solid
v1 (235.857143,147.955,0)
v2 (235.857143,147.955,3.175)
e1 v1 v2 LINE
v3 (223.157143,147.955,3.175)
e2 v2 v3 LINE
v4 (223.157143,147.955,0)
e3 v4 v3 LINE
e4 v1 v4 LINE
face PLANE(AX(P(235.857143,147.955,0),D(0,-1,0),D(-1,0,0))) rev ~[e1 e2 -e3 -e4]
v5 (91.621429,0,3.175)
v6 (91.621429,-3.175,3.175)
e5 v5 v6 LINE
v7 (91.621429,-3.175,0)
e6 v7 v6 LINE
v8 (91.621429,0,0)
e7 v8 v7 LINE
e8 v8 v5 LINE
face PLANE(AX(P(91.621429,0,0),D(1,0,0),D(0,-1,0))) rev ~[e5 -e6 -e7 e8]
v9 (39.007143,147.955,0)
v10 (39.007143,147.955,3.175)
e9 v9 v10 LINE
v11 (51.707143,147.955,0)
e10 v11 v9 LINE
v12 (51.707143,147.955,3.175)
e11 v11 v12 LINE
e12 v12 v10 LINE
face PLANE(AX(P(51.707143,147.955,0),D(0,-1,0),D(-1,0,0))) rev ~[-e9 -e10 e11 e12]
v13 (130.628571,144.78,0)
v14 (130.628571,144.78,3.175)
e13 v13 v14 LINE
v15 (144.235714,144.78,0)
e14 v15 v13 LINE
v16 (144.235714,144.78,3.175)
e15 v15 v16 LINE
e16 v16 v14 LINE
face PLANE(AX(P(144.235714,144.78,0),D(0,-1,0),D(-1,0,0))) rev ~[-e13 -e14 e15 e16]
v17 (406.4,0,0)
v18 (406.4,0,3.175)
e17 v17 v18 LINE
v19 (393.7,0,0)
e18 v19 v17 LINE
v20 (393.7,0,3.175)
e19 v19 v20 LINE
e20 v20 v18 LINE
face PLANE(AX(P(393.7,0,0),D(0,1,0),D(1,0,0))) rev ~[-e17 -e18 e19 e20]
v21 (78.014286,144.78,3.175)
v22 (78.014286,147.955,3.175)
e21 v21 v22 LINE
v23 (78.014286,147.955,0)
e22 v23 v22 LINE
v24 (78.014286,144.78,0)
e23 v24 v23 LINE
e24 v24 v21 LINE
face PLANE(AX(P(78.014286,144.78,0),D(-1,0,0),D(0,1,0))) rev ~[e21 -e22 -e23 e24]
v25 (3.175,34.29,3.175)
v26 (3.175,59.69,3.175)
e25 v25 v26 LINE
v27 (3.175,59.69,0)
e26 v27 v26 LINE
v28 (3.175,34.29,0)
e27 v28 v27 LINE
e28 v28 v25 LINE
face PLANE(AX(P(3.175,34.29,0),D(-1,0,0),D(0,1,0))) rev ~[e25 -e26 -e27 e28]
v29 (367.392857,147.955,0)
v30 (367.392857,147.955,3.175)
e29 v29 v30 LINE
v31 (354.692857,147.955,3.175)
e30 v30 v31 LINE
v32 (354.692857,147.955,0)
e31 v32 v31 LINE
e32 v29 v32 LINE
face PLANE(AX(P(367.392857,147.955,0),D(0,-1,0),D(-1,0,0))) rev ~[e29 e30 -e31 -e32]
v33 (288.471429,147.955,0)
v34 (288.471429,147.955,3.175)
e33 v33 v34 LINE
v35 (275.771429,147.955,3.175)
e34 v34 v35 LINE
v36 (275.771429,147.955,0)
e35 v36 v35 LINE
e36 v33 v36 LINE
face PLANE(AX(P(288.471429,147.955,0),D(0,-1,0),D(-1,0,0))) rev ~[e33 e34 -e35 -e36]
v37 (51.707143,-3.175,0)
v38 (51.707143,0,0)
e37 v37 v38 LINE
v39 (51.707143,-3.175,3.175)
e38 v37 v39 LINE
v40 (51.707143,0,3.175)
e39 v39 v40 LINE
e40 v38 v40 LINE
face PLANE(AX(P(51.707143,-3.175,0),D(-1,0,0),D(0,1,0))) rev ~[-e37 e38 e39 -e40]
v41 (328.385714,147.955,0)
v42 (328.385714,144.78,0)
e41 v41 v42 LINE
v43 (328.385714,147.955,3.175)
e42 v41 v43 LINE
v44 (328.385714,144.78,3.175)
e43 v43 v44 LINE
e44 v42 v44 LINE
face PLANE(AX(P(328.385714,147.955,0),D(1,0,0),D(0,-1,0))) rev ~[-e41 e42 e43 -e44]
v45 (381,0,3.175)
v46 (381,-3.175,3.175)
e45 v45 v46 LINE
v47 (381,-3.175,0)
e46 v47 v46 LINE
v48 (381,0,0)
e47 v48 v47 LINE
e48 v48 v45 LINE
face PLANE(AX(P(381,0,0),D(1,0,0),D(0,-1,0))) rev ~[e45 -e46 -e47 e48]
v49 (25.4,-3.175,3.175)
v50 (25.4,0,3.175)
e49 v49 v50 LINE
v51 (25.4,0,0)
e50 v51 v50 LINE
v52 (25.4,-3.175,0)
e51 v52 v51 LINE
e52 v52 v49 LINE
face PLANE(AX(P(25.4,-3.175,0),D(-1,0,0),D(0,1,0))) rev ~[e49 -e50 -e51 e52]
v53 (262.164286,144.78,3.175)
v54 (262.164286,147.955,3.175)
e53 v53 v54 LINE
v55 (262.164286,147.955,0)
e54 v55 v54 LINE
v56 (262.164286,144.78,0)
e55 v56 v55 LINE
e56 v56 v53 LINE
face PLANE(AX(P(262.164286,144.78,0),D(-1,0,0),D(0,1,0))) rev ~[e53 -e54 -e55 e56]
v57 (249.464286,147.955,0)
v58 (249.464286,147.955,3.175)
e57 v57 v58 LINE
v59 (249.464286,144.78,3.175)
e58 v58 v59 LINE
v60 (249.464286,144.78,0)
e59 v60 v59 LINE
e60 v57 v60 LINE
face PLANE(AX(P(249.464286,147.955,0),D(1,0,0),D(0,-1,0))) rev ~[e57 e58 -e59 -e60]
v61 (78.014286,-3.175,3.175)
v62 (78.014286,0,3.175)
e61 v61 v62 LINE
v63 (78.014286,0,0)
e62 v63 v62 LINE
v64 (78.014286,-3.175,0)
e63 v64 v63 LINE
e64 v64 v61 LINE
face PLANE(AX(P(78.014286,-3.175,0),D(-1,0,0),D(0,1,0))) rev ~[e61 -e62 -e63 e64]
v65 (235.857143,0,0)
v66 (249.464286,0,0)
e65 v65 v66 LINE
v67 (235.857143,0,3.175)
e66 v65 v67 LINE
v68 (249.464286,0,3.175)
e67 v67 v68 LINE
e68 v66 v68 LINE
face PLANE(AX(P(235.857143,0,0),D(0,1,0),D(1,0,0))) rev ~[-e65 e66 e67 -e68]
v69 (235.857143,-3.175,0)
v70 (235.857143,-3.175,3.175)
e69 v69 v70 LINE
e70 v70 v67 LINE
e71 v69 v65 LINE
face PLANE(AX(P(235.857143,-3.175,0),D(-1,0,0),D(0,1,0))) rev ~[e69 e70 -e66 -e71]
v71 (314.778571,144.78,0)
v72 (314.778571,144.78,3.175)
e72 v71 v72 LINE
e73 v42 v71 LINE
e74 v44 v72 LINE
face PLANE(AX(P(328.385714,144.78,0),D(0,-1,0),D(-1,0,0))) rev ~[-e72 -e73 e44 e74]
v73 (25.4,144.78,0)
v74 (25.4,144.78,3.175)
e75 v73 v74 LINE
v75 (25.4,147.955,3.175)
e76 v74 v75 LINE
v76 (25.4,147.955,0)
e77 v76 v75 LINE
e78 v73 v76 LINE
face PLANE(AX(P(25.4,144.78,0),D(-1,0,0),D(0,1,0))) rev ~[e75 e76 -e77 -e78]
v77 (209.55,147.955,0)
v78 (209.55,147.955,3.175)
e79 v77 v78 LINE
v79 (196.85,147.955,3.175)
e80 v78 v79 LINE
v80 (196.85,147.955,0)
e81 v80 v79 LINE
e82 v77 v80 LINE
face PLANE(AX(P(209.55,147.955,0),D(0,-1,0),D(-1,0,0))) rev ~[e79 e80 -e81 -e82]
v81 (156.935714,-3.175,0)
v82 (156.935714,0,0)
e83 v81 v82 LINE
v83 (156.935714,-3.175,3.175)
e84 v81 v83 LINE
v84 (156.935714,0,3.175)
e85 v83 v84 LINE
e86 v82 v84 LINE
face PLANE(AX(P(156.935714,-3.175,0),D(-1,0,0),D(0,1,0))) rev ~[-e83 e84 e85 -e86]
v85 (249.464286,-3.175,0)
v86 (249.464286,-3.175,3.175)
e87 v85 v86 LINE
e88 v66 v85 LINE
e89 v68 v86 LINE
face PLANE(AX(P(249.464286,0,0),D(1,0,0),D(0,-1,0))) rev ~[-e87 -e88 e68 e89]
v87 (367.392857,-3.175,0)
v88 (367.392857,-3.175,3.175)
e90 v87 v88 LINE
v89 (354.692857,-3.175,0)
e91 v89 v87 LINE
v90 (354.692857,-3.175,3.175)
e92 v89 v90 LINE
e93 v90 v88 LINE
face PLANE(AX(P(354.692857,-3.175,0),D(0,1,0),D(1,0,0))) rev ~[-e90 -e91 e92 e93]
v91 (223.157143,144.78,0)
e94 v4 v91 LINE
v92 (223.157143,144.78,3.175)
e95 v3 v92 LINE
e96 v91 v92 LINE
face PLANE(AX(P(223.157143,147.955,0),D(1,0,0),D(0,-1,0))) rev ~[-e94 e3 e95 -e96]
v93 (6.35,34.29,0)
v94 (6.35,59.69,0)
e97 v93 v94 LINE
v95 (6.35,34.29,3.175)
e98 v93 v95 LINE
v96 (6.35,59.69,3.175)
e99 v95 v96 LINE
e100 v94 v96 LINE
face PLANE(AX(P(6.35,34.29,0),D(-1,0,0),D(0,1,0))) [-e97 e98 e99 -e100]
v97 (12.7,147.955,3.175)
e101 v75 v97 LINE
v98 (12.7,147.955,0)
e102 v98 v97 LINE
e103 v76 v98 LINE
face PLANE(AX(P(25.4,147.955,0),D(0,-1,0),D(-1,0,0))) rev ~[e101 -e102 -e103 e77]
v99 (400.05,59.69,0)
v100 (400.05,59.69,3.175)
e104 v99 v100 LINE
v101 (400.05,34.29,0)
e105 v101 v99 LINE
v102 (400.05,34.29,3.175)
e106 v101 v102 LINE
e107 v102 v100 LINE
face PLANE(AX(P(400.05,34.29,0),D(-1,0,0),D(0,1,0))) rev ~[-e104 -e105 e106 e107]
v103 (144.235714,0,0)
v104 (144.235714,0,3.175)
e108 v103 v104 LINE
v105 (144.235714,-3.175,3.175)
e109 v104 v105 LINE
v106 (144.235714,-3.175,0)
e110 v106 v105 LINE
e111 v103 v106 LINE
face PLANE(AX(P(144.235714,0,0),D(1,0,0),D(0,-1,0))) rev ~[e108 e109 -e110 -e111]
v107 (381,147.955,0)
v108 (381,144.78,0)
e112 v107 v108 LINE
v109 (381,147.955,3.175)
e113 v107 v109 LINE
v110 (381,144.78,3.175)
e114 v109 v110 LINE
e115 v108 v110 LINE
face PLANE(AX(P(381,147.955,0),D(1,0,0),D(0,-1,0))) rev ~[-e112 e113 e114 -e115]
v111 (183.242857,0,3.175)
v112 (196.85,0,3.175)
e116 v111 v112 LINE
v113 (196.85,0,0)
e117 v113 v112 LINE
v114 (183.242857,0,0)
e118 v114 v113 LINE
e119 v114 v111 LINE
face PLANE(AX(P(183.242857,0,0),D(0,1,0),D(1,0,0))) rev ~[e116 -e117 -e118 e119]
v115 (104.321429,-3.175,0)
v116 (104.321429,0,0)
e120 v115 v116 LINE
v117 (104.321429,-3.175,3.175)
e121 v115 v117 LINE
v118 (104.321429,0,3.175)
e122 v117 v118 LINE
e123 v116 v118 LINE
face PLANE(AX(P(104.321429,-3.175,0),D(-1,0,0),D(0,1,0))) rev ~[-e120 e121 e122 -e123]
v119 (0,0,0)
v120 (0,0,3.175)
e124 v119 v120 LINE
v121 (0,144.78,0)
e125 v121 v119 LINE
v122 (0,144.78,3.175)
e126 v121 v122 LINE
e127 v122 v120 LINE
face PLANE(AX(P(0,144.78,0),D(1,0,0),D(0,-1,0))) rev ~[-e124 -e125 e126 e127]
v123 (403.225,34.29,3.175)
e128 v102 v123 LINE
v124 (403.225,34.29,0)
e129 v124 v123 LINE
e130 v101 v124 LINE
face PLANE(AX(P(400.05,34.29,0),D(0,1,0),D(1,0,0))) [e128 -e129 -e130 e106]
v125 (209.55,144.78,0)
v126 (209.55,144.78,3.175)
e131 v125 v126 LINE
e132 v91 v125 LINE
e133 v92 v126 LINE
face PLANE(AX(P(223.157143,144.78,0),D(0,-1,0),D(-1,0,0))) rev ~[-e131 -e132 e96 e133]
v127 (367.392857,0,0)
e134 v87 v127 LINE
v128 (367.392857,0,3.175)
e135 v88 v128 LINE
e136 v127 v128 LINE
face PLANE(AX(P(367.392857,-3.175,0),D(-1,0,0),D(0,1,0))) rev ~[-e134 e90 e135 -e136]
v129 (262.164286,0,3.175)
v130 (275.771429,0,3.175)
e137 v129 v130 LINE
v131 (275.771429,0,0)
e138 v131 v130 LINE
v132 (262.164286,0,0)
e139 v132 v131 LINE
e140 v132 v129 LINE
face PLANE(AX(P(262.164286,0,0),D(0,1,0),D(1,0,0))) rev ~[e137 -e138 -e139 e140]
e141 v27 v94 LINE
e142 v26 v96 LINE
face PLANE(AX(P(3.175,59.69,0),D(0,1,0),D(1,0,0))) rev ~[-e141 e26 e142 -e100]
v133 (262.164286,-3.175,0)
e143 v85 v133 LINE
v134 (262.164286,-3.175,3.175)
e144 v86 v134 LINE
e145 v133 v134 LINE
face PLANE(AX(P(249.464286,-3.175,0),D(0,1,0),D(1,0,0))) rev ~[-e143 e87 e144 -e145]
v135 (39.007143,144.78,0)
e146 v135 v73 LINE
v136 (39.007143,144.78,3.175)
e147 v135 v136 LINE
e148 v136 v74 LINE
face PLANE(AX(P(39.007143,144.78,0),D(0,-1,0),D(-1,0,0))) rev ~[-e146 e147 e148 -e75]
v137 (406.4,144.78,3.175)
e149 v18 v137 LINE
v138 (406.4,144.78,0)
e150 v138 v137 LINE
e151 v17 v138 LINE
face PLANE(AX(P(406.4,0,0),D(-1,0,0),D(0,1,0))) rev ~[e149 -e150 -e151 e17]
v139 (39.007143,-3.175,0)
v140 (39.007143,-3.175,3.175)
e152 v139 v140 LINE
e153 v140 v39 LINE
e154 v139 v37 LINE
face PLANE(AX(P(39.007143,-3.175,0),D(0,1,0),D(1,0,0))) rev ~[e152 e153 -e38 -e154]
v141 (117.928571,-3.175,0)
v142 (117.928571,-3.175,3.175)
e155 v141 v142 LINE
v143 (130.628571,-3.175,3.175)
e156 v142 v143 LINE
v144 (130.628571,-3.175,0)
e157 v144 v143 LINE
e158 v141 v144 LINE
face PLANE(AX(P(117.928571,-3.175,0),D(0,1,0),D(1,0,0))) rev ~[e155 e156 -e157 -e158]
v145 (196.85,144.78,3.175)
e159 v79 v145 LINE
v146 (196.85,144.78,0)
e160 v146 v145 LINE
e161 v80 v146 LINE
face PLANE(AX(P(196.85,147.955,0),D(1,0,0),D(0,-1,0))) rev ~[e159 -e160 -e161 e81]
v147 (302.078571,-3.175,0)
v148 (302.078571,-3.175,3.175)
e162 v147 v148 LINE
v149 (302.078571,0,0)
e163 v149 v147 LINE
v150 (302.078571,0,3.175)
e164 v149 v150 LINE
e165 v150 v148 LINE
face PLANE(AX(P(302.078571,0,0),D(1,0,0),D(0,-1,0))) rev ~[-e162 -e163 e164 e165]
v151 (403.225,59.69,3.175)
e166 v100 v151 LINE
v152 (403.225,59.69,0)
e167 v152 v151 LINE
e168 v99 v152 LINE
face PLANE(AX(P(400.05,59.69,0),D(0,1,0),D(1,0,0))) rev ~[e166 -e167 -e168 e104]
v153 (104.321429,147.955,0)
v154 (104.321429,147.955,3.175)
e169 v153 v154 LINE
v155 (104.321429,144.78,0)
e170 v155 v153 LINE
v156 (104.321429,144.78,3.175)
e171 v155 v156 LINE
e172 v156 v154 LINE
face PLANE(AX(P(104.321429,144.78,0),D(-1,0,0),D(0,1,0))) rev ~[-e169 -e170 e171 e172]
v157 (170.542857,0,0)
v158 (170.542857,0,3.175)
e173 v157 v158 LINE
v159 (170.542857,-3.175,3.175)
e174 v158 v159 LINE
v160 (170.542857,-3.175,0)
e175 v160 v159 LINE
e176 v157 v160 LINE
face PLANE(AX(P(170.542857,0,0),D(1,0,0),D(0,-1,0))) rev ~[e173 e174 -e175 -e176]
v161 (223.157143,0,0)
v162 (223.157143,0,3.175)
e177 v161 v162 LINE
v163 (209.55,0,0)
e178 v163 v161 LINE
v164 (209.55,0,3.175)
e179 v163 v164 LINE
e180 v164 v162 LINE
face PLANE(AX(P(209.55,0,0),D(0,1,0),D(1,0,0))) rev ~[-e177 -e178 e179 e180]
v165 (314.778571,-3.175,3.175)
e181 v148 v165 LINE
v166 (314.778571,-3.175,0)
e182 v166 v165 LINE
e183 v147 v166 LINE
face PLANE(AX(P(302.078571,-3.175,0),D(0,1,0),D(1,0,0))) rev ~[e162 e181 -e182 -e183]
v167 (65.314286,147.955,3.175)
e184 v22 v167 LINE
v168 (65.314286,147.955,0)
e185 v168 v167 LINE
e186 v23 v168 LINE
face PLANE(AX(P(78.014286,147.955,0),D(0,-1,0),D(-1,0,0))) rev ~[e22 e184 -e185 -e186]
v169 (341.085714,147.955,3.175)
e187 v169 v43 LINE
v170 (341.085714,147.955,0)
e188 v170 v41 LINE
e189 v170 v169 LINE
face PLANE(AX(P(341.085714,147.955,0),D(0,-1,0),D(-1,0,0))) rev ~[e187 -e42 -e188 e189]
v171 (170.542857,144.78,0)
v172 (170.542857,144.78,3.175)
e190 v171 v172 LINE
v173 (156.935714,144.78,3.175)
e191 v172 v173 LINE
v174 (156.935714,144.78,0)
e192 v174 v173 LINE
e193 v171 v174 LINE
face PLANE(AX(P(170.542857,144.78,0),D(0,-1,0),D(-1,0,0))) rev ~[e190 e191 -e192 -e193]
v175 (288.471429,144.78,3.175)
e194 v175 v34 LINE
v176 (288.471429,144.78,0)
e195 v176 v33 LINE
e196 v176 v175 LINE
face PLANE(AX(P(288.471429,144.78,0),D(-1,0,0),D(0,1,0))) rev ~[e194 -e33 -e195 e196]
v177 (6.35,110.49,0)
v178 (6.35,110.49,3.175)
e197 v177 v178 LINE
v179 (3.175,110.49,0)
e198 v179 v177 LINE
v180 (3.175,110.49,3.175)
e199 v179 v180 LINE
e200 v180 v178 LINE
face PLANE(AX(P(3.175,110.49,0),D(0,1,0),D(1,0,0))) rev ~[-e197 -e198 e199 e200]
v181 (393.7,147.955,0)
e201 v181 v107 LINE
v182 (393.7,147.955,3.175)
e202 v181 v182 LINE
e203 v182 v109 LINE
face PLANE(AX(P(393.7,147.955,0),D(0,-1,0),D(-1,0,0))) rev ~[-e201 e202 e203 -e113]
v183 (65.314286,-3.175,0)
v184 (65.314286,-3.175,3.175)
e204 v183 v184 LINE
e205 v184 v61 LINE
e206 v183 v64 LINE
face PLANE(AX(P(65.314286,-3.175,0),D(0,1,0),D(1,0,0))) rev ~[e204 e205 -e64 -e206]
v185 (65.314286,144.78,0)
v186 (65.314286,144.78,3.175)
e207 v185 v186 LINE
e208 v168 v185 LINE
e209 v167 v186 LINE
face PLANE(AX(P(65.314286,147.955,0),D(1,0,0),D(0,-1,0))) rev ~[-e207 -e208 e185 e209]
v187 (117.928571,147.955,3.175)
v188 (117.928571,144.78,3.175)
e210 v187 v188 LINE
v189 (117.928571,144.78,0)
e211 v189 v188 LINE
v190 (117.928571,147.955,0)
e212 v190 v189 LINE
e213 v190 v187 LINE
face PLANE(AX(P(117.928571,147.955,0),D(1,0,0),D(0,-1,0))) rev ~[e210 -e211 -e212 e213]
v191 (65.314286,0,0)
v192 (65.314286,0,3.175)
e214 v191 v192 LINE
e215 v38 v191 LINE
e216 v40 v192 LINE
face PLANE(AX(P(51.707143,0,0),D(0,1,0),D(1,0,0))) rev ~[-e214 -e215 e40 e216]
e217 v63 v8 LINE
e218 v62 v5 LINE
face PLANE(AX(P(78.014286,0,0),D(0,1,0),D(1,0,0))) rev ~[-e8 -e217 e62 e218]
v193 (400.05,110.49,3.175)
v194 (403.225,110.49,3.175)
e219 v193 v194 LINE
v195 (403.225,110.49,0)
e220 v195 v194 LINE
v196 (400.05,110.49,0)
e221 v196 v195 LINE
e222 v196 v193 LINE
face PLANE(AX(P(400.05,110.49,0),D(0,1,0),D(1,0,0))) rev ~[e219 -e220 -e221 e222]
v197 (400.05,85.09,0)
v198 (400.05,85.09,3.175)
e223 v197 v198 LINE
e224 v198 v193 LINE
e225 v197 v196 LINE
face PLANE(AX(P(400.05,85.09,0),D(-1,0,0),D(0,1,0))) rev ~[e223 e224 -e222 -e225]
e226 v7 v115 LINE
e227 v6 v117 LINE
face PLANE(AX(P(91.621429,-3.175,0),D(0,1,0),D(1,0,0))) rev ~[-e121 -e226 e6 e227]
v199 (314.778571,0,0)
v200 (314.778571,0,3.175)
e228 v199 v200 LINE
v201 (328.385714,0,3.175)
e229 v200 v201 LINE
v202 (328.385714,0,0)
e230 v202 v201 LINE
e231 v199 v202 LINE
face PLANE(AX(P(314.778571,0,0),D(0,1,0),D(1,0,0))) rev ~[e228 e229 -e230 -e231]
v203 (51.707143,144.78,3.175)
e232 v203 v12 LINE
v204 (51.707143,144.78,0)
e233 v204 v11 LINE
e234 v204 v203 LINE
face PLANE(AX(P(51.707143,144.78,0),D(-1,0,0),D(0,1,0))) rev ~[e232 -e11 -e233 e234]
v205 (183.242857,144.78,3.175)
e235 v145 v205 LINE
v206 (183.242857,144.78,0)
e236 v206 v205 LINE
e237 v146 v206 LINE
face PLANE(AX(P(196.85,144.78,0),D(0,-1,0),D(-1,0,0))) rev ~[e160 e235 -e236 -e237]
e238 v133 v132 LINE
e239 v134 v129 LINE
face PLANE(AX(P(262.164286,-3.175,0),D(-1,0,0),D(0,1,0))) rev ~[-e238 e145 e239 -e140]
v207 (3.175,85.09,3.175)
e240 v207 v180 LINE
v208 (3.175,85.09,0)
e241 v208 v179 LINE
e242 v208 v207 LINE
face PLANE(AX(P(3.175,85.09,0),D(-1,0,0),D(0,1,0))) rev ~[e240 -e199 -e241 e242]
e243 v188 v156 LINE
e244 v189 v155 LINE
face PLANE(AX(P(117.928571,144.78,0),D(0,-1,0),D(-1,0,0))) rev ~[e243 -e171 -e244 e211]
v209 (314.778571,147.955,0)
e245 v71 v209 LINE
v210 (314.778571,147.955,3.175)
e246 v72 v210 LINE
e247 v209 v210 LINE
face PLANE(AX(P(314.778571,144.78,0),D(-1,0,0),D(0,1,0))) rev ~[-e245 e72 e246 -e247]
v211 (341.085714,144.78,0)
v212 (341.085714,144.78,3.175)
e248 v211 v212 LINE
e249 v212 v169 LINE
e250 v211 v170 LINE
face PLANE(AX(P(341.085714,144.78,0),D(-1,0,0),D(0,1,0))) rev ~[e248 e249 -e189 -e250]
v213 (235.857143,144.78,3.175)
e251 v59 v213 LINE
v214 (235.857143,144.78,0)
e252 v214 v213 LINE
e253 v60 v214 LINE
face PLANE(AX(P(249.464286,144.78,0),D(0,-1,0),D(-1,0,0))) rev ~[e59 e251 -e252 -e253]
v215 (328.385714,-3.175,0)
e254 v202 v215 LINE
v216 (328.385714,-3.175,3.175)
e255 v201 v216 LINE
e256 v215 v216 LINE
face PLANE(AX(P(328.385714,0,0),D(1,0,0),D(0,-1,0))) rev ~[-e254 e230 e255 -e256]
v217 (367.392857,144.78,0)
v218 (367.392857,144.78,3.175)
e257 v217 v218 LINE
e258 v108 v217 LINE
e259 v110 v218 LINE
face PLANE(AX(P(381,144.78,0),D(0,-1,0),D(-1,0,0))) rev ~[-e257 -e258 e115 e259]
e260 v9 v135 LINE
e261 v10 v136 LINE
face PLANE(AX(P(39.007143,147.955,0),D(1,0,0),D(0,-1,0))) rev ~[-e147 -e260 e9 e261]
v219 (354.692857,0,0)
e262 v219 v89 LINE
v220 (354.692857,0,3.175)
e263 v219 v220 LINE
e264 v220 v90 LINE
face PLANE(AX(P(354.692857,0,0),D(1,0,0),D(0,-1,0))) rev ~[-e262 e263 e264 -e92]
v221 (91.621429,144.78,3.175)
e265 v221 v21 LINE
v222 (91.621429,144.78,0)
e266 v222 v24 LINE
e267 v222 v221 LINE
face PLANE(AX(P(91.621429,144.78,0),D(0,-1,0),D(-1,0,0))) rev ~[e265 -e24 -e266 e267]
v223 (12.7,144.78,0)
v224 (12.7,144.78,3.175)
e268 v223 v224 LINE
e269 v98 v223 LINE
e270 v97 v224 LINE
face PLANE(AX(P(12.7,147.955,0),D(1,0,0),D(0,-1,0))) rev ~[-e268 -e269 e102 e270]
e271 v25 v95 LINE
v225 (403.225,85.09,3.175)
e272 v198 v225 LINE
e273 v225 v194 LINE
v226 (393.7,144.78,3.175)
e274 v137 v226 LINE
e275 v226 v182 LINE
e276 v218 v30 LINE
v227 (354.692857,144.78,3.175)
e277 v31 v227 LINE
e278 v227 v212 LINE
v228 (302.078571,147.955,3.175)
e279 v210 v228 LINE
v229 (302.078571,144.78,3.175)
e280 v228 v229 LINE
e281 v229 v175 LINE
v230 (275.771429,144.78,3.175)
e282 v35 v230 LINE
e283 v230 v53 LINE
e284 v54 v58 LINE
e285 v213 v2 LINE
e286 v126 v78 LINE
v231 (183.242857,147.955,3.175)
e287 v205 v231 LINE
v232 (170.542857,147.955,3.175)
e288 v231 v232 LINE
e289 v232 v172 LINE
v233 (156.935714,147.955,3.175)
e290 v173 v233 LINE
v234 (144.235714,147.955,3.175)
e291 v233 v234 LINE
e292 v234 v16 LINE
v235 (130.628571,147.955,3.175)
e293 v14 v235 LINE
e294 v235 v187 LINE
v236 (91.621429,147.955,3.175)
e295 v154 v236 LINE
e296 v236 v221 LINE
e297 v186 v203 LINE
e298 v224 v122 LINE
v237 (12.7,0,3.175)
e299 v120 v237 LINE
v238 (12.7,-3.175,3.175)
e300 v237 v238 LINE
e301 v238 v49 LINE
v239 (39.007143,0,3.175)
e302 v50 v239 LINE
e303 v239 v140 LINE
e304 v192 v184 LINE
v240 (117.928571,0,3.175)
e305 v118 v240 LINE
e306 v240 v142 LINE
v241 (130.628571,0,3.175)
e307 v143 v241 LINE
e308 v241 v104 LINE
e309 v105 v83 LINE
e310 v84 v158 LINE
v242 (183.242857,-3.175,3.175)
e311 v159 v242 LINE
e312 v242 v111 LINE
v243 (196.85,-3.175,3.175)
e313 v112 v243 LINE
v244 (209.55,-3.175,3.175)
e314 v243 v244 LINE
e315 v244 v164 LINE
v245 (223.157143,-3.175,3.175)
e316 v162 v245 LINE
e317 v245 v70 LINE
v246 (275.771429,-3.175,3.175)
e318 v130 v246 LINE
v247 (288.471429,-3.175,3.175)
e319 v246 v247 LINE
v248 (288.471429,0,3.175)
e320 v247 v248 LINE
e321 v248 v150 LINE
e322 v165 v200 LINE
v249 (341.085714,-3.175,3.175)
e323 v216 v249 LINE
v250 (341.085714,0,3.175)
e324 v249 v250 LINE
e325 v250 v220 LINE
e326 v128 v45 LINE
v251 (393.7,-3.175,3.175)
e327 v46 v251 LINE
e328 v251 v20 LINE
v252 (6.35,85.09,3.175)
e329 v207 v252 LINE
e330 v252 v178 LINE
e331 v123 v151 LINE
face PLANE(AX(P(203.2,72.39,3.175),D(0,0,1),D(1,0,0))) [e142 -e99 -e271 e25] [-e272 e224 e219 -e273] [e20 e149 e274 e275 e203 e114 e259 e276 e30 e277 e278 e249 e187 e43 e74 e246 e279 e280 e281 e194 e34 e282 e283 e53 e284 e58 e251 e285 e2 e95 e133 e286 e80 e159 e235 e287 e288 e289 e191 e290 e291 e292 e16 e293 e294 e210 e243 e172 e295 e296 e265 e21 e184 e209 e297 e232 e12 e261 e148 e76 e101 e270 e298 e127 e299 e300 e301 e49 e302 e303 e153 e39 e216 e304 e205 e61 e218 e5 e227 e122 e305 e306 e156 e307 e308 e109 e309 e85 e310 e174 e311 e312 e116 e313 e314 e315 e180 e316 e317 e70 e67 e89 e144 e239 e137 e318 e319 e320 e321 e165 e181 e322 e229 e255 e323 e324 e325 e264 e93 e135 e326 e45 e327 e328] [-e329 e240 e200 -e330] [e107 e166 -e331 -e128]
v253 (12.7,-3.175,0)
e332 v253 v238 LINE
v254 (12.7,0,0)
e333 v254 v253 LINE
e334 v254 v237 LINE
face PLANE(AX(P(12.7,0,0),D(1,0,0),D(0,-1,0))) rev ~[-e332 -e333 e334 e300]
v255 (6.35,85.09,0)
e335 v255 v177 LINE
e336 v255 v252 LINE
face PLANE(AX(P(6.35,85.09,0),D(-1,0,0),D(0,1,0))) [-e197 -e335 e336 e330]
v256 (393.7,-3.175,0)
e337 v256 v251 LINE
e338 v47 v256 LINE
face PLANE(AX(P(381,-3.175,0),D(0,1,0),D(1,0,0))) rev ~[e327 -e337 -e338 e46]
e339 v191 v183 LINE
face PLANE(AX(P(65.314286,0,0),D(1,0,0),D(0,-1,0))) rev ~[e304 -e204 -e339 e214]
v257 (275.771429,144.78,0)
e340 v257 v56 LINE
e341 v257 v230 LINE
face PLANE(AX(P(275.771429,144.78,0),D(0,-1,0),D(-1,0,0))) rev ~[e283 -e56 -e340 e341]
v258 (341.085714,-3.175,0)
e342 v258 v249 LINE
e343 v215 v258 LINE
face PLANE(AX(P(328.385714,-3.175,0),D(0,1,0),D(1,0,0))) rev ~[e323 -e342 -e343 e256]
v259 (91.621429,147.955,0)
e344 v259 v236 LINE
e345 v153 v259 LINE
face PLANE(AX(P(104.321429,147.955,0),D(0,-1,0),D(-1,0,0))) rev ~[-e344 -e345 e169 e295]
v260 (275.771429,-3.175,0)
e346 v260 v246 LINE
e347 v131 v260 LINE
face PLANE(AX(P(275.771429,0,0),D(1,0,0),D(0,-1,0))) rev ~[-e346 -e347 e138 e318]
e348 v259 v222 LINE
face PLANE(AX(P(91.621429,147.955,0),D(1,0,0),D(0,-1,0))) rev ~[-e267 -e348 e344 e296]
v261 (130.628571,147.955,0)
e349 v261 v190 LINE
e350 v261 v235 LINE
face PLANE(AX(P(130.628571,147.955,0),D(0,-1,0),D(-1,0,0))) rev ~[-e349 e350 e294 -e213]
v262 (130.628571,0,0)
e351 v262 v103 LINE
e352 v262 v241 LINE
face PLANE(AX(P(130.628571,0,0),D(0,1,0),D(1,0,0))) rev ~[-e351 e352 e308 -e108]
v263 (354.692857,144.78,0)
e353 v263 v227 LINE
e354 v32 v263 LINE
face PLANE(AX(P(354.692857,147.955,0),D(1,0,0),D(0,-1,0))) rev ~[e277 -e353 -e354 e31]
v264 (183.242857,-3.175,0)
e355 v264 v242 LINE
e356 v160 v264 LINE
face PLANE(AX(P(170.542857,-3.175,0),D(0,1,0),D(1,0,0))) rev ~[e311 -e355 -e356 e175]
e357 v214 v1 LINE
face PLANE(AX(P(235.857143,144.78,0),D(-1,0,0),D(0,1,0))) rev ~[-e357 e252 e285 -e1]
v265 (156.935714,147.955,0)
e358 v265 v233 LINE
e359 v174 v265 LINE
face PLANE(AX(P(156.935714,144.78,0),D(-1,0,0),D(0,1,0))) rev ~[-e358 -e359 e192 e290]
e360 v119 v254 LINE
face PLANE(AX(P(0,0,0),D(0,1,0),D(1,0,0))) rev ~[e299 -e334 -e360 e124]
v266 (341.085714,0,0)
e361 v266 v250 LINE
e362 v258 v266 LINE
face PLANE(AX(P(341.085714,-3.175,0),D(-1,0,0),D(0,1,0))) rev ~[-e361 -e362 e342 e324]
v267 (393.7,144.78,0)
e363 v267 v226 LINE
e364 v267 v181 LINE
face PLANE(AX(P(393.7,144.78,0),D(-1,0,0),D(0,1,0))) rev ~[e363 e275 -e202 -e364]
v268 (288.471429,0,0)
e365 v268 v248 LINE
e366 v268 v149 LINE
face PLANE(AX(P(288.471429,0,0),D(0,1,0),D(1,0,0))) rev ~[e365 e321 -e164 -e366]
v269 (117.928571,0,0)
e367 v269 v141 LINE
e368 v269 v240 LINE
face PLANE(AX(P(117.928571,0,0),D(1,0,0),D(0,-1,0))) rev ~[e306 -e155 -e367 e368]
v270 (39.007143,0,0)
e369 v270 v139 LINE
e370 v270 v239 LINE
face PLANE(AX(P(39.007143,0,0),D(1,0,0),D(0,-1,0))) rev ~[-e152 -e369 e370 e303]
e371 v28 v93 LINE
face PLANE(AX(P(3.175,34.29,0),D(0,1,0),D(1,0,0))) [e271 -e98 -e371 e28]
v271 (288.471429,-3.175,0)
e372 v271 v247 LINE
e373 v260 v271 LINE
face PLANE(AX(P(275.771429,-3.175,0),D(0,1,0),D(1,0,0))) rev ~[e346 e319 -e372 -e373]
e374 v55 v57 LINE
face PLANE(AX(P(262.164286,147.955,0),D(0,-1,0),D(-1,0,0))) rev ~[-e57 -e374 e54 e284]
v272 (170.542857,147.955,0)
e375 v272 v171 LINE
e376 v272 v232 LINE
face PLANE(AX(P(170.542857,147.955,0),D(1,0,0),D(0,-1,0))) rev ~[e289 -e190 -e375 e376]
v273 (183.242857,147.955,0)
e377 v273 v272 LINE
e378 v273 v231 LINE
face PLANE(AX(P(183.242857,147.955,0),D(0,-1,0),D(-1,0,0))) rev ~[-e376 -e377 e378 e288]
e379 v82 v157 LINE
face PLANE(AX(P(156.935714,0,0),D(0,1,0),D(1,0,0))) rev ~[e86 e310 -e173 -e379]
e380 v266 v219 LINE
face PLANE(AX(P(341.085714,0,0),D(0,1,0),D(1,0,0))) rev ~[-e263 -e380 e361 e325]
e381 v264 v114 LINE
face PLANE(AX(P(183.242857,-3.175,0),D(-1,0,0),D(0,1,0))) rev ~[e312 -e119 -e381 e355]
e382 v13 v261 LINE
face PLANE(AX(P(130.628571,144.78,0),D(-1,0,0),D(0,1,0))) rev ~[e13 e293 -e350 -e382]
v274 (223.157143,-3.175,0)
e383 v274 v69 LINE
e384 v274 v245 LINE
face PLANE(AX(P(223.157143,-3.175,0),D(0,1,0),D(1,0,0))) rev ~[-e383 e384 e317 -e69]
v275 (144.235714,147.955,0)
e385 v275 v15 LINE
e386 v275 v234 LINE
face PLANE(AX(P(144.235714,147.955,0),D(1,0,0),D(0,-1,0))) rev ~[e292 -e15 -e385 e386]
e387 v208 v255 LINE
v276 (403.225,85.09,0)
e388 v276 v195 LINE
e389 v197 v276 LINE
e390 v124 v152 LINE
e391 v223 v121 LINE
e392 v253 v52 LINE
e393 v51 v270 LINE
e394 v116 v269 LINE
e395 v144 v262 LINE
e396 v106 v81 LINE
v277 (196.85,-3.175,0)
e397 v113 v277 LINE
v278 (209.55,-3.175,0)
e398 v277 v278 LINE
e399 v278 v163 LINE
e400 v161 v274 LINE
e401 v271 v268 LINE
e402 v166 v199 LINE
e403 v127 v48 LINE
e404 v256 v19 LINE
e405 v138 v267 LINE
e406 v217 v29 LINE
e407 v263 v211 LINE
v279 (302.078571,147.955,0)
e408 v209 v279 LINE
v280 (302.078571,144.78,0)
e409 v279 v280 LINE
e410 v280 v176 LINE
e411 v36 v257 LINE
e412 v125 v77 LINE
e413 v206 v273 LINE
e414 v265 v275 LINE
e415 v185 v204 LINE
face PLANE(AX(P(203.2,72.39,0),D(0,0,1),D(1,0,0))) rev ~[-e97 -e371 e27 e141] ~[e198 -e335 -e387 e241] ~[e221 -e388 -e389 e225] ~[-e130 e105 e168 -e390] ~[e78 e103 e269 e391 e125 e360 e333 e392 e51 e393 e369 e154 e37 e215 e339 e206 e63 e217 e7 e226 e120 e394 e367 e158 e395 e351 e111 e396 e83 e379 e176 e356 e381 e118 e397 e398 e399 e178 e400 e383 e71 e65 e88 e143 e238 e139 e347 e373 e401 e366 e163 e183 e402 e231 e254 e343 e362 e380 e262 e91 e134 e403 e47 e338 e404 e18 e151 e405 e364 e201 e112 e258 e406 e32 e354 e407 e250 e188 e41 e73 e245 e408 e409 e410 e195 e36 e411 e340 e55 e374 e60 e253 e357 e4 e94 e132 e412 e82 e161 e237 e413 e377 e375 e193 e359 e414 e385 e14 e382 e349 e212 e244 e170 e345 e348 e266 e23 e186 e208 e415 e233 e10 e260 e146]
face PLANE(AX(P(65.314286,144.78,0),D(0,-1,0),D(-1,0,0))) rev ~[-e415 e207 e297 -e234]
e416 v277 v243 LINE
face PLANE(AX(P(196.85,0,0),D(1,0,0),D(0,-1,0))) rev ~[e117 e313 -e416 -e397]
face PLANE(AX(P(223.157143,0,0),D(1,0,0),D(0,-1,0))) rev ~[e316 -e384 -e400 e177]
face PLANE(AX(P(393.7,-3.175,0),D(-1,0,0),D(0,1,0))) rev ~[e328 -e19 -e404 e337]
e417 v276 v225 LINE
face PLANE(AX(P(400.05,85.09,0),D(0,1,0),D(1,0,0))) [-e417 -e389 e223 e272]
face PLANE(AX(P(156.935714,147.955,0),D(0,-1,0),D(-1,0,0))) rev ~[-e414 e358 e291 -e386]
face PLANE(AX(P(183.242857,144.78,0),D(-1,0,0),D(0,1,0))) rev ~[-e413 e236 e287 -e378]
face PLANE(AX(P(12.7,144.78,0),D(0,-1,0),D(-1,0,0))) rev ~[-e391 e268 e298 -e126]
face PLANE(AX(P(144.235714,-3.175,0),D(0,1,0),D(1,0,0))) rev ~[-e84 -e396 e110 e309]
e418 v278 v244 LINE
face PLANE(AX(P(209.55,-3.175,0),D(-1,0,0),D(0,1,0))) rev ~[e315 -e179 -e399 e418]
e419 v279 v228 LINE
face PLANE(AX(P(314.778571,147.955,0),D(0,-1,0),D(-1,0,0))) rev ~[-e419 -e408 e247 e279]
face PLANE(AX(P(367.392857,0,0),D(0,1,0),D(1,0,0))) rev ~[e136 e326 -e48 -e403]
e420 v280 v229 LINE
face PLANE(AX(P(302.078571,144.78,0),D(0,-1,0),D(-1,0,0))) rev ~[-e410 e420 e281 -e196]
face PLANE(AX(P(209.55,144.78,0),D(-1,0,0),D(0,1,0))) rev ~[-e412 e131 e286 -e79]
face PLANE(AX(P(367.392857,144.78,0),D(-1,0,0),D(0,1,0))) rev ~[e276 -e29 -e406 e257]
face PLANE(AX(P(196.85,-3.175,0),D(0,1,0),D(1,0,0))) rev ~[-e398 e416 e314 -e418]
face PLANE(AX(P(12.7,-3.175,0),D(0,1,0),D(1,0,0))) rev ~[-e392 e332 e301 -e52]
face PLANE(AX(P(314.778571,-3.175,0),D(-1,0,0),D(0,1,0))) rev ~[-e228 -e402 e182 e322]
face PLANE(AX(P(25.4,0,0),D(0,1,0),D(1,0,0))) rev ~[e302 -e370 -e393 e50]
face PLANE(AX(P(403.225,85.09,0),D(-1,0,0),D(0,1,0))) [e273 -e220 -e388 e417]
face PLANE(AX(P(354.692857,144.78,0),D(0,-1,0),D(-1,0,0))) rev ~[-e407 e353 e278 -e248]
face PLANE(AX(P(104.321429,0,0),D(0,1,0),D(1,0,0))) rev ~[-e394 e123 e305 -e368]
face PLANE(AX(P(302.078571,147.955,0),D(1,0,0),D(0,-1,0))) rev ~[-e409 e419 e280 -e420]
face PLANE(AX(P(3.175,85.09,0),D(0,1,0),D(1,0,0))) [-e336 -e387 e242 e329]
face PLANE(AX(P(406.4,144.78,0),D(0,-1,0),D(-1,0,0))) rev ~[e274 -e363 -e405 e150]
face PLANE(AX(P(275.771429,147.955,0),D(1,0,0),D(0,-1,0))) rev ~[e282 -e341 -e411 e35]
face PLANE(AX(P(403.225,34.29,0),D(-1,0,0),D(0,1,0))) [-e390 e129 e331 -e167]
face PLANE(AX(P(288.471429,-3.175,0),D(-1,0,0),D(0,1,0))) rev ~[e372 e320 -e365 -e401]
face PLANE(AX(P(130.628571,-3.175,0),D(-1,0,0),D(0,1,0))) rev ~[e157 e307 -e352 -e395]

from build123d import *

# Parameters (mm, degrees)
SKETCH1_W           = 3.175
SKETCH1_H           = 25.4
BOSS_EXTRUDE1_DEPTH = 3.175


with BuildPart() as part:
    # Sketch1 → Boss-Extrude1 (new body)
    with BuildSketch(Plane.XY):
        Polygon((406.4, 0), (406.4, 144.78), (393.7, 144.78), (393.7, 147.955), (381, 147.955), (381, 144.78), (367.392857143, 144.78), (367.392857143, 147.955), (354.692857143, 147.955), (354.692857143, 144.78), (341.085714286, 144.78), (341.085714286, 147.955), (328.385714286, 147.955), (328.385714286, 144.78), (314.778571429, 144.78), (314.778571429, 147.955), (302.078571429, 147.955), (302.078571429, 144.78), (288.471428571, 144.78), (288.471428571, 147.955), (275.771428571, 147.955), (275.771428571, 144.78), (262.164285714, 144.78), (262.164285714, 147.955), (249.464285714, 147.955), (249.464285714, 144.78), (235.857142857, 144.78), (235.857142857, 147.955), (223.157142857, 147.955), (223.157142857, 144.78), (209.55, 144.78), (209.55, 147.955), (196.85, 147.955), (196.85, 144.78), (183.242857143, 144.78), (183.242857143, 147.955), (170.542857143, 147.955), (170.542857143, 144.78), (156.935714286, 144.78), (156.935714286, 147.955), (144.235714286, 147.955), (144.235714286, 144.78), (130.628571429, 144.78), (130.628571429, 147.955), (117.928571429, 147.955), (117.928571429, 144.78), (104.321428571, 144.78), (104.321428571, 147.955), (91.621428571, 147.955), (91.621428571, 144.78), (78.014285714, 144.78), (78.014285714, 147.955), (65.314285714, 147.955), (65.314285714, 144.78), (51.707142857, 144.78), (51.707142857, 147.955), (39.007142857, 147.955), (39.007142857, 144.78), (25.4, 144.78), (25.4, 147.955), (12.7, 147.955), (12.7, 144.78), (0, 144.78), (0, 0), (12.7, 0), (12.7, -3.175), (25.4, -3.175), (25.4, 0), (39.007142857, 0), (39.007142857, -3.175), (51.707142857, -3.175), (51.707142857, 0), (65.314285714, 0), (65.314285714, -3.175), (78.014285714, -3.175), (78.014285714, 0), (91.621428571, 0), (91.621428571, -3.175), (104.321428571, -3.175), (104.321428571, 0), (117.928571429, 0), (117.928571429, -3.175), (130.628571429, -3.175), (130.628571429, 0), (144.235714286, 0), (144.235714286, -3.175), (156.935714286, -3.175), (156.935714286, 0), (170.542857143, 0), (170.542857143, -3.175), (183.242857143, -3.175), (183.242857143, 0), (196.85, 0), (196.85, -3.175), (209.55, -3.175), (209.55, 0), (223.157142857, 0), (223.157142857, -3.175), (235.857142857, -3.175), (235.857142857, 0), (249.464285714, 0), (249.464285714, -3.175), (262.164285714, -3.175), (262.164285714, 0), (275.771428571, 0), (275.771428571, -3.175), (288.471428571, -3.175), (288.471428571, 0), (302.078571429, 0), (302.078571429, -3.175), (314.778571429, -3.175), (314.778571429, 0), (328.385714286, 0), (328.385714286, -3.175), (341.085714286, -3.175), (341.085714286, 0), (354.692857143, 0), (354.692857143, -3.175), (367.392857143, -3.175), (367.392857143, 0), (381, 0), (381, -3.175), (393.7, -3.175), (393.7, 0), align=None)
        with Locations((401.6375, 97.79)):
            Rectangle(SKETCH1_W, SKETCH1_H, mode=Mode.SUBTRACT)
        with Locations((4.7625, 46.99)):
            Rectangle(SKETCH1_W, SKETCH1_H, mode=Mode.SUBTRACT)
        with Locations((4.7625, 97.79)):
            Rectangle(SKETCH1_W, SKETCH1_H, mode=Mode.SUBTRACT)
        with Locations((401.6375, 46.99)):
            Rectangle(SKETCH1_W, SKETCH1_H, mode=Mode.SUBTRACT)
    extrude(amount=BOSS_EXTRUDE1_DEPTH)


solid = part.part
